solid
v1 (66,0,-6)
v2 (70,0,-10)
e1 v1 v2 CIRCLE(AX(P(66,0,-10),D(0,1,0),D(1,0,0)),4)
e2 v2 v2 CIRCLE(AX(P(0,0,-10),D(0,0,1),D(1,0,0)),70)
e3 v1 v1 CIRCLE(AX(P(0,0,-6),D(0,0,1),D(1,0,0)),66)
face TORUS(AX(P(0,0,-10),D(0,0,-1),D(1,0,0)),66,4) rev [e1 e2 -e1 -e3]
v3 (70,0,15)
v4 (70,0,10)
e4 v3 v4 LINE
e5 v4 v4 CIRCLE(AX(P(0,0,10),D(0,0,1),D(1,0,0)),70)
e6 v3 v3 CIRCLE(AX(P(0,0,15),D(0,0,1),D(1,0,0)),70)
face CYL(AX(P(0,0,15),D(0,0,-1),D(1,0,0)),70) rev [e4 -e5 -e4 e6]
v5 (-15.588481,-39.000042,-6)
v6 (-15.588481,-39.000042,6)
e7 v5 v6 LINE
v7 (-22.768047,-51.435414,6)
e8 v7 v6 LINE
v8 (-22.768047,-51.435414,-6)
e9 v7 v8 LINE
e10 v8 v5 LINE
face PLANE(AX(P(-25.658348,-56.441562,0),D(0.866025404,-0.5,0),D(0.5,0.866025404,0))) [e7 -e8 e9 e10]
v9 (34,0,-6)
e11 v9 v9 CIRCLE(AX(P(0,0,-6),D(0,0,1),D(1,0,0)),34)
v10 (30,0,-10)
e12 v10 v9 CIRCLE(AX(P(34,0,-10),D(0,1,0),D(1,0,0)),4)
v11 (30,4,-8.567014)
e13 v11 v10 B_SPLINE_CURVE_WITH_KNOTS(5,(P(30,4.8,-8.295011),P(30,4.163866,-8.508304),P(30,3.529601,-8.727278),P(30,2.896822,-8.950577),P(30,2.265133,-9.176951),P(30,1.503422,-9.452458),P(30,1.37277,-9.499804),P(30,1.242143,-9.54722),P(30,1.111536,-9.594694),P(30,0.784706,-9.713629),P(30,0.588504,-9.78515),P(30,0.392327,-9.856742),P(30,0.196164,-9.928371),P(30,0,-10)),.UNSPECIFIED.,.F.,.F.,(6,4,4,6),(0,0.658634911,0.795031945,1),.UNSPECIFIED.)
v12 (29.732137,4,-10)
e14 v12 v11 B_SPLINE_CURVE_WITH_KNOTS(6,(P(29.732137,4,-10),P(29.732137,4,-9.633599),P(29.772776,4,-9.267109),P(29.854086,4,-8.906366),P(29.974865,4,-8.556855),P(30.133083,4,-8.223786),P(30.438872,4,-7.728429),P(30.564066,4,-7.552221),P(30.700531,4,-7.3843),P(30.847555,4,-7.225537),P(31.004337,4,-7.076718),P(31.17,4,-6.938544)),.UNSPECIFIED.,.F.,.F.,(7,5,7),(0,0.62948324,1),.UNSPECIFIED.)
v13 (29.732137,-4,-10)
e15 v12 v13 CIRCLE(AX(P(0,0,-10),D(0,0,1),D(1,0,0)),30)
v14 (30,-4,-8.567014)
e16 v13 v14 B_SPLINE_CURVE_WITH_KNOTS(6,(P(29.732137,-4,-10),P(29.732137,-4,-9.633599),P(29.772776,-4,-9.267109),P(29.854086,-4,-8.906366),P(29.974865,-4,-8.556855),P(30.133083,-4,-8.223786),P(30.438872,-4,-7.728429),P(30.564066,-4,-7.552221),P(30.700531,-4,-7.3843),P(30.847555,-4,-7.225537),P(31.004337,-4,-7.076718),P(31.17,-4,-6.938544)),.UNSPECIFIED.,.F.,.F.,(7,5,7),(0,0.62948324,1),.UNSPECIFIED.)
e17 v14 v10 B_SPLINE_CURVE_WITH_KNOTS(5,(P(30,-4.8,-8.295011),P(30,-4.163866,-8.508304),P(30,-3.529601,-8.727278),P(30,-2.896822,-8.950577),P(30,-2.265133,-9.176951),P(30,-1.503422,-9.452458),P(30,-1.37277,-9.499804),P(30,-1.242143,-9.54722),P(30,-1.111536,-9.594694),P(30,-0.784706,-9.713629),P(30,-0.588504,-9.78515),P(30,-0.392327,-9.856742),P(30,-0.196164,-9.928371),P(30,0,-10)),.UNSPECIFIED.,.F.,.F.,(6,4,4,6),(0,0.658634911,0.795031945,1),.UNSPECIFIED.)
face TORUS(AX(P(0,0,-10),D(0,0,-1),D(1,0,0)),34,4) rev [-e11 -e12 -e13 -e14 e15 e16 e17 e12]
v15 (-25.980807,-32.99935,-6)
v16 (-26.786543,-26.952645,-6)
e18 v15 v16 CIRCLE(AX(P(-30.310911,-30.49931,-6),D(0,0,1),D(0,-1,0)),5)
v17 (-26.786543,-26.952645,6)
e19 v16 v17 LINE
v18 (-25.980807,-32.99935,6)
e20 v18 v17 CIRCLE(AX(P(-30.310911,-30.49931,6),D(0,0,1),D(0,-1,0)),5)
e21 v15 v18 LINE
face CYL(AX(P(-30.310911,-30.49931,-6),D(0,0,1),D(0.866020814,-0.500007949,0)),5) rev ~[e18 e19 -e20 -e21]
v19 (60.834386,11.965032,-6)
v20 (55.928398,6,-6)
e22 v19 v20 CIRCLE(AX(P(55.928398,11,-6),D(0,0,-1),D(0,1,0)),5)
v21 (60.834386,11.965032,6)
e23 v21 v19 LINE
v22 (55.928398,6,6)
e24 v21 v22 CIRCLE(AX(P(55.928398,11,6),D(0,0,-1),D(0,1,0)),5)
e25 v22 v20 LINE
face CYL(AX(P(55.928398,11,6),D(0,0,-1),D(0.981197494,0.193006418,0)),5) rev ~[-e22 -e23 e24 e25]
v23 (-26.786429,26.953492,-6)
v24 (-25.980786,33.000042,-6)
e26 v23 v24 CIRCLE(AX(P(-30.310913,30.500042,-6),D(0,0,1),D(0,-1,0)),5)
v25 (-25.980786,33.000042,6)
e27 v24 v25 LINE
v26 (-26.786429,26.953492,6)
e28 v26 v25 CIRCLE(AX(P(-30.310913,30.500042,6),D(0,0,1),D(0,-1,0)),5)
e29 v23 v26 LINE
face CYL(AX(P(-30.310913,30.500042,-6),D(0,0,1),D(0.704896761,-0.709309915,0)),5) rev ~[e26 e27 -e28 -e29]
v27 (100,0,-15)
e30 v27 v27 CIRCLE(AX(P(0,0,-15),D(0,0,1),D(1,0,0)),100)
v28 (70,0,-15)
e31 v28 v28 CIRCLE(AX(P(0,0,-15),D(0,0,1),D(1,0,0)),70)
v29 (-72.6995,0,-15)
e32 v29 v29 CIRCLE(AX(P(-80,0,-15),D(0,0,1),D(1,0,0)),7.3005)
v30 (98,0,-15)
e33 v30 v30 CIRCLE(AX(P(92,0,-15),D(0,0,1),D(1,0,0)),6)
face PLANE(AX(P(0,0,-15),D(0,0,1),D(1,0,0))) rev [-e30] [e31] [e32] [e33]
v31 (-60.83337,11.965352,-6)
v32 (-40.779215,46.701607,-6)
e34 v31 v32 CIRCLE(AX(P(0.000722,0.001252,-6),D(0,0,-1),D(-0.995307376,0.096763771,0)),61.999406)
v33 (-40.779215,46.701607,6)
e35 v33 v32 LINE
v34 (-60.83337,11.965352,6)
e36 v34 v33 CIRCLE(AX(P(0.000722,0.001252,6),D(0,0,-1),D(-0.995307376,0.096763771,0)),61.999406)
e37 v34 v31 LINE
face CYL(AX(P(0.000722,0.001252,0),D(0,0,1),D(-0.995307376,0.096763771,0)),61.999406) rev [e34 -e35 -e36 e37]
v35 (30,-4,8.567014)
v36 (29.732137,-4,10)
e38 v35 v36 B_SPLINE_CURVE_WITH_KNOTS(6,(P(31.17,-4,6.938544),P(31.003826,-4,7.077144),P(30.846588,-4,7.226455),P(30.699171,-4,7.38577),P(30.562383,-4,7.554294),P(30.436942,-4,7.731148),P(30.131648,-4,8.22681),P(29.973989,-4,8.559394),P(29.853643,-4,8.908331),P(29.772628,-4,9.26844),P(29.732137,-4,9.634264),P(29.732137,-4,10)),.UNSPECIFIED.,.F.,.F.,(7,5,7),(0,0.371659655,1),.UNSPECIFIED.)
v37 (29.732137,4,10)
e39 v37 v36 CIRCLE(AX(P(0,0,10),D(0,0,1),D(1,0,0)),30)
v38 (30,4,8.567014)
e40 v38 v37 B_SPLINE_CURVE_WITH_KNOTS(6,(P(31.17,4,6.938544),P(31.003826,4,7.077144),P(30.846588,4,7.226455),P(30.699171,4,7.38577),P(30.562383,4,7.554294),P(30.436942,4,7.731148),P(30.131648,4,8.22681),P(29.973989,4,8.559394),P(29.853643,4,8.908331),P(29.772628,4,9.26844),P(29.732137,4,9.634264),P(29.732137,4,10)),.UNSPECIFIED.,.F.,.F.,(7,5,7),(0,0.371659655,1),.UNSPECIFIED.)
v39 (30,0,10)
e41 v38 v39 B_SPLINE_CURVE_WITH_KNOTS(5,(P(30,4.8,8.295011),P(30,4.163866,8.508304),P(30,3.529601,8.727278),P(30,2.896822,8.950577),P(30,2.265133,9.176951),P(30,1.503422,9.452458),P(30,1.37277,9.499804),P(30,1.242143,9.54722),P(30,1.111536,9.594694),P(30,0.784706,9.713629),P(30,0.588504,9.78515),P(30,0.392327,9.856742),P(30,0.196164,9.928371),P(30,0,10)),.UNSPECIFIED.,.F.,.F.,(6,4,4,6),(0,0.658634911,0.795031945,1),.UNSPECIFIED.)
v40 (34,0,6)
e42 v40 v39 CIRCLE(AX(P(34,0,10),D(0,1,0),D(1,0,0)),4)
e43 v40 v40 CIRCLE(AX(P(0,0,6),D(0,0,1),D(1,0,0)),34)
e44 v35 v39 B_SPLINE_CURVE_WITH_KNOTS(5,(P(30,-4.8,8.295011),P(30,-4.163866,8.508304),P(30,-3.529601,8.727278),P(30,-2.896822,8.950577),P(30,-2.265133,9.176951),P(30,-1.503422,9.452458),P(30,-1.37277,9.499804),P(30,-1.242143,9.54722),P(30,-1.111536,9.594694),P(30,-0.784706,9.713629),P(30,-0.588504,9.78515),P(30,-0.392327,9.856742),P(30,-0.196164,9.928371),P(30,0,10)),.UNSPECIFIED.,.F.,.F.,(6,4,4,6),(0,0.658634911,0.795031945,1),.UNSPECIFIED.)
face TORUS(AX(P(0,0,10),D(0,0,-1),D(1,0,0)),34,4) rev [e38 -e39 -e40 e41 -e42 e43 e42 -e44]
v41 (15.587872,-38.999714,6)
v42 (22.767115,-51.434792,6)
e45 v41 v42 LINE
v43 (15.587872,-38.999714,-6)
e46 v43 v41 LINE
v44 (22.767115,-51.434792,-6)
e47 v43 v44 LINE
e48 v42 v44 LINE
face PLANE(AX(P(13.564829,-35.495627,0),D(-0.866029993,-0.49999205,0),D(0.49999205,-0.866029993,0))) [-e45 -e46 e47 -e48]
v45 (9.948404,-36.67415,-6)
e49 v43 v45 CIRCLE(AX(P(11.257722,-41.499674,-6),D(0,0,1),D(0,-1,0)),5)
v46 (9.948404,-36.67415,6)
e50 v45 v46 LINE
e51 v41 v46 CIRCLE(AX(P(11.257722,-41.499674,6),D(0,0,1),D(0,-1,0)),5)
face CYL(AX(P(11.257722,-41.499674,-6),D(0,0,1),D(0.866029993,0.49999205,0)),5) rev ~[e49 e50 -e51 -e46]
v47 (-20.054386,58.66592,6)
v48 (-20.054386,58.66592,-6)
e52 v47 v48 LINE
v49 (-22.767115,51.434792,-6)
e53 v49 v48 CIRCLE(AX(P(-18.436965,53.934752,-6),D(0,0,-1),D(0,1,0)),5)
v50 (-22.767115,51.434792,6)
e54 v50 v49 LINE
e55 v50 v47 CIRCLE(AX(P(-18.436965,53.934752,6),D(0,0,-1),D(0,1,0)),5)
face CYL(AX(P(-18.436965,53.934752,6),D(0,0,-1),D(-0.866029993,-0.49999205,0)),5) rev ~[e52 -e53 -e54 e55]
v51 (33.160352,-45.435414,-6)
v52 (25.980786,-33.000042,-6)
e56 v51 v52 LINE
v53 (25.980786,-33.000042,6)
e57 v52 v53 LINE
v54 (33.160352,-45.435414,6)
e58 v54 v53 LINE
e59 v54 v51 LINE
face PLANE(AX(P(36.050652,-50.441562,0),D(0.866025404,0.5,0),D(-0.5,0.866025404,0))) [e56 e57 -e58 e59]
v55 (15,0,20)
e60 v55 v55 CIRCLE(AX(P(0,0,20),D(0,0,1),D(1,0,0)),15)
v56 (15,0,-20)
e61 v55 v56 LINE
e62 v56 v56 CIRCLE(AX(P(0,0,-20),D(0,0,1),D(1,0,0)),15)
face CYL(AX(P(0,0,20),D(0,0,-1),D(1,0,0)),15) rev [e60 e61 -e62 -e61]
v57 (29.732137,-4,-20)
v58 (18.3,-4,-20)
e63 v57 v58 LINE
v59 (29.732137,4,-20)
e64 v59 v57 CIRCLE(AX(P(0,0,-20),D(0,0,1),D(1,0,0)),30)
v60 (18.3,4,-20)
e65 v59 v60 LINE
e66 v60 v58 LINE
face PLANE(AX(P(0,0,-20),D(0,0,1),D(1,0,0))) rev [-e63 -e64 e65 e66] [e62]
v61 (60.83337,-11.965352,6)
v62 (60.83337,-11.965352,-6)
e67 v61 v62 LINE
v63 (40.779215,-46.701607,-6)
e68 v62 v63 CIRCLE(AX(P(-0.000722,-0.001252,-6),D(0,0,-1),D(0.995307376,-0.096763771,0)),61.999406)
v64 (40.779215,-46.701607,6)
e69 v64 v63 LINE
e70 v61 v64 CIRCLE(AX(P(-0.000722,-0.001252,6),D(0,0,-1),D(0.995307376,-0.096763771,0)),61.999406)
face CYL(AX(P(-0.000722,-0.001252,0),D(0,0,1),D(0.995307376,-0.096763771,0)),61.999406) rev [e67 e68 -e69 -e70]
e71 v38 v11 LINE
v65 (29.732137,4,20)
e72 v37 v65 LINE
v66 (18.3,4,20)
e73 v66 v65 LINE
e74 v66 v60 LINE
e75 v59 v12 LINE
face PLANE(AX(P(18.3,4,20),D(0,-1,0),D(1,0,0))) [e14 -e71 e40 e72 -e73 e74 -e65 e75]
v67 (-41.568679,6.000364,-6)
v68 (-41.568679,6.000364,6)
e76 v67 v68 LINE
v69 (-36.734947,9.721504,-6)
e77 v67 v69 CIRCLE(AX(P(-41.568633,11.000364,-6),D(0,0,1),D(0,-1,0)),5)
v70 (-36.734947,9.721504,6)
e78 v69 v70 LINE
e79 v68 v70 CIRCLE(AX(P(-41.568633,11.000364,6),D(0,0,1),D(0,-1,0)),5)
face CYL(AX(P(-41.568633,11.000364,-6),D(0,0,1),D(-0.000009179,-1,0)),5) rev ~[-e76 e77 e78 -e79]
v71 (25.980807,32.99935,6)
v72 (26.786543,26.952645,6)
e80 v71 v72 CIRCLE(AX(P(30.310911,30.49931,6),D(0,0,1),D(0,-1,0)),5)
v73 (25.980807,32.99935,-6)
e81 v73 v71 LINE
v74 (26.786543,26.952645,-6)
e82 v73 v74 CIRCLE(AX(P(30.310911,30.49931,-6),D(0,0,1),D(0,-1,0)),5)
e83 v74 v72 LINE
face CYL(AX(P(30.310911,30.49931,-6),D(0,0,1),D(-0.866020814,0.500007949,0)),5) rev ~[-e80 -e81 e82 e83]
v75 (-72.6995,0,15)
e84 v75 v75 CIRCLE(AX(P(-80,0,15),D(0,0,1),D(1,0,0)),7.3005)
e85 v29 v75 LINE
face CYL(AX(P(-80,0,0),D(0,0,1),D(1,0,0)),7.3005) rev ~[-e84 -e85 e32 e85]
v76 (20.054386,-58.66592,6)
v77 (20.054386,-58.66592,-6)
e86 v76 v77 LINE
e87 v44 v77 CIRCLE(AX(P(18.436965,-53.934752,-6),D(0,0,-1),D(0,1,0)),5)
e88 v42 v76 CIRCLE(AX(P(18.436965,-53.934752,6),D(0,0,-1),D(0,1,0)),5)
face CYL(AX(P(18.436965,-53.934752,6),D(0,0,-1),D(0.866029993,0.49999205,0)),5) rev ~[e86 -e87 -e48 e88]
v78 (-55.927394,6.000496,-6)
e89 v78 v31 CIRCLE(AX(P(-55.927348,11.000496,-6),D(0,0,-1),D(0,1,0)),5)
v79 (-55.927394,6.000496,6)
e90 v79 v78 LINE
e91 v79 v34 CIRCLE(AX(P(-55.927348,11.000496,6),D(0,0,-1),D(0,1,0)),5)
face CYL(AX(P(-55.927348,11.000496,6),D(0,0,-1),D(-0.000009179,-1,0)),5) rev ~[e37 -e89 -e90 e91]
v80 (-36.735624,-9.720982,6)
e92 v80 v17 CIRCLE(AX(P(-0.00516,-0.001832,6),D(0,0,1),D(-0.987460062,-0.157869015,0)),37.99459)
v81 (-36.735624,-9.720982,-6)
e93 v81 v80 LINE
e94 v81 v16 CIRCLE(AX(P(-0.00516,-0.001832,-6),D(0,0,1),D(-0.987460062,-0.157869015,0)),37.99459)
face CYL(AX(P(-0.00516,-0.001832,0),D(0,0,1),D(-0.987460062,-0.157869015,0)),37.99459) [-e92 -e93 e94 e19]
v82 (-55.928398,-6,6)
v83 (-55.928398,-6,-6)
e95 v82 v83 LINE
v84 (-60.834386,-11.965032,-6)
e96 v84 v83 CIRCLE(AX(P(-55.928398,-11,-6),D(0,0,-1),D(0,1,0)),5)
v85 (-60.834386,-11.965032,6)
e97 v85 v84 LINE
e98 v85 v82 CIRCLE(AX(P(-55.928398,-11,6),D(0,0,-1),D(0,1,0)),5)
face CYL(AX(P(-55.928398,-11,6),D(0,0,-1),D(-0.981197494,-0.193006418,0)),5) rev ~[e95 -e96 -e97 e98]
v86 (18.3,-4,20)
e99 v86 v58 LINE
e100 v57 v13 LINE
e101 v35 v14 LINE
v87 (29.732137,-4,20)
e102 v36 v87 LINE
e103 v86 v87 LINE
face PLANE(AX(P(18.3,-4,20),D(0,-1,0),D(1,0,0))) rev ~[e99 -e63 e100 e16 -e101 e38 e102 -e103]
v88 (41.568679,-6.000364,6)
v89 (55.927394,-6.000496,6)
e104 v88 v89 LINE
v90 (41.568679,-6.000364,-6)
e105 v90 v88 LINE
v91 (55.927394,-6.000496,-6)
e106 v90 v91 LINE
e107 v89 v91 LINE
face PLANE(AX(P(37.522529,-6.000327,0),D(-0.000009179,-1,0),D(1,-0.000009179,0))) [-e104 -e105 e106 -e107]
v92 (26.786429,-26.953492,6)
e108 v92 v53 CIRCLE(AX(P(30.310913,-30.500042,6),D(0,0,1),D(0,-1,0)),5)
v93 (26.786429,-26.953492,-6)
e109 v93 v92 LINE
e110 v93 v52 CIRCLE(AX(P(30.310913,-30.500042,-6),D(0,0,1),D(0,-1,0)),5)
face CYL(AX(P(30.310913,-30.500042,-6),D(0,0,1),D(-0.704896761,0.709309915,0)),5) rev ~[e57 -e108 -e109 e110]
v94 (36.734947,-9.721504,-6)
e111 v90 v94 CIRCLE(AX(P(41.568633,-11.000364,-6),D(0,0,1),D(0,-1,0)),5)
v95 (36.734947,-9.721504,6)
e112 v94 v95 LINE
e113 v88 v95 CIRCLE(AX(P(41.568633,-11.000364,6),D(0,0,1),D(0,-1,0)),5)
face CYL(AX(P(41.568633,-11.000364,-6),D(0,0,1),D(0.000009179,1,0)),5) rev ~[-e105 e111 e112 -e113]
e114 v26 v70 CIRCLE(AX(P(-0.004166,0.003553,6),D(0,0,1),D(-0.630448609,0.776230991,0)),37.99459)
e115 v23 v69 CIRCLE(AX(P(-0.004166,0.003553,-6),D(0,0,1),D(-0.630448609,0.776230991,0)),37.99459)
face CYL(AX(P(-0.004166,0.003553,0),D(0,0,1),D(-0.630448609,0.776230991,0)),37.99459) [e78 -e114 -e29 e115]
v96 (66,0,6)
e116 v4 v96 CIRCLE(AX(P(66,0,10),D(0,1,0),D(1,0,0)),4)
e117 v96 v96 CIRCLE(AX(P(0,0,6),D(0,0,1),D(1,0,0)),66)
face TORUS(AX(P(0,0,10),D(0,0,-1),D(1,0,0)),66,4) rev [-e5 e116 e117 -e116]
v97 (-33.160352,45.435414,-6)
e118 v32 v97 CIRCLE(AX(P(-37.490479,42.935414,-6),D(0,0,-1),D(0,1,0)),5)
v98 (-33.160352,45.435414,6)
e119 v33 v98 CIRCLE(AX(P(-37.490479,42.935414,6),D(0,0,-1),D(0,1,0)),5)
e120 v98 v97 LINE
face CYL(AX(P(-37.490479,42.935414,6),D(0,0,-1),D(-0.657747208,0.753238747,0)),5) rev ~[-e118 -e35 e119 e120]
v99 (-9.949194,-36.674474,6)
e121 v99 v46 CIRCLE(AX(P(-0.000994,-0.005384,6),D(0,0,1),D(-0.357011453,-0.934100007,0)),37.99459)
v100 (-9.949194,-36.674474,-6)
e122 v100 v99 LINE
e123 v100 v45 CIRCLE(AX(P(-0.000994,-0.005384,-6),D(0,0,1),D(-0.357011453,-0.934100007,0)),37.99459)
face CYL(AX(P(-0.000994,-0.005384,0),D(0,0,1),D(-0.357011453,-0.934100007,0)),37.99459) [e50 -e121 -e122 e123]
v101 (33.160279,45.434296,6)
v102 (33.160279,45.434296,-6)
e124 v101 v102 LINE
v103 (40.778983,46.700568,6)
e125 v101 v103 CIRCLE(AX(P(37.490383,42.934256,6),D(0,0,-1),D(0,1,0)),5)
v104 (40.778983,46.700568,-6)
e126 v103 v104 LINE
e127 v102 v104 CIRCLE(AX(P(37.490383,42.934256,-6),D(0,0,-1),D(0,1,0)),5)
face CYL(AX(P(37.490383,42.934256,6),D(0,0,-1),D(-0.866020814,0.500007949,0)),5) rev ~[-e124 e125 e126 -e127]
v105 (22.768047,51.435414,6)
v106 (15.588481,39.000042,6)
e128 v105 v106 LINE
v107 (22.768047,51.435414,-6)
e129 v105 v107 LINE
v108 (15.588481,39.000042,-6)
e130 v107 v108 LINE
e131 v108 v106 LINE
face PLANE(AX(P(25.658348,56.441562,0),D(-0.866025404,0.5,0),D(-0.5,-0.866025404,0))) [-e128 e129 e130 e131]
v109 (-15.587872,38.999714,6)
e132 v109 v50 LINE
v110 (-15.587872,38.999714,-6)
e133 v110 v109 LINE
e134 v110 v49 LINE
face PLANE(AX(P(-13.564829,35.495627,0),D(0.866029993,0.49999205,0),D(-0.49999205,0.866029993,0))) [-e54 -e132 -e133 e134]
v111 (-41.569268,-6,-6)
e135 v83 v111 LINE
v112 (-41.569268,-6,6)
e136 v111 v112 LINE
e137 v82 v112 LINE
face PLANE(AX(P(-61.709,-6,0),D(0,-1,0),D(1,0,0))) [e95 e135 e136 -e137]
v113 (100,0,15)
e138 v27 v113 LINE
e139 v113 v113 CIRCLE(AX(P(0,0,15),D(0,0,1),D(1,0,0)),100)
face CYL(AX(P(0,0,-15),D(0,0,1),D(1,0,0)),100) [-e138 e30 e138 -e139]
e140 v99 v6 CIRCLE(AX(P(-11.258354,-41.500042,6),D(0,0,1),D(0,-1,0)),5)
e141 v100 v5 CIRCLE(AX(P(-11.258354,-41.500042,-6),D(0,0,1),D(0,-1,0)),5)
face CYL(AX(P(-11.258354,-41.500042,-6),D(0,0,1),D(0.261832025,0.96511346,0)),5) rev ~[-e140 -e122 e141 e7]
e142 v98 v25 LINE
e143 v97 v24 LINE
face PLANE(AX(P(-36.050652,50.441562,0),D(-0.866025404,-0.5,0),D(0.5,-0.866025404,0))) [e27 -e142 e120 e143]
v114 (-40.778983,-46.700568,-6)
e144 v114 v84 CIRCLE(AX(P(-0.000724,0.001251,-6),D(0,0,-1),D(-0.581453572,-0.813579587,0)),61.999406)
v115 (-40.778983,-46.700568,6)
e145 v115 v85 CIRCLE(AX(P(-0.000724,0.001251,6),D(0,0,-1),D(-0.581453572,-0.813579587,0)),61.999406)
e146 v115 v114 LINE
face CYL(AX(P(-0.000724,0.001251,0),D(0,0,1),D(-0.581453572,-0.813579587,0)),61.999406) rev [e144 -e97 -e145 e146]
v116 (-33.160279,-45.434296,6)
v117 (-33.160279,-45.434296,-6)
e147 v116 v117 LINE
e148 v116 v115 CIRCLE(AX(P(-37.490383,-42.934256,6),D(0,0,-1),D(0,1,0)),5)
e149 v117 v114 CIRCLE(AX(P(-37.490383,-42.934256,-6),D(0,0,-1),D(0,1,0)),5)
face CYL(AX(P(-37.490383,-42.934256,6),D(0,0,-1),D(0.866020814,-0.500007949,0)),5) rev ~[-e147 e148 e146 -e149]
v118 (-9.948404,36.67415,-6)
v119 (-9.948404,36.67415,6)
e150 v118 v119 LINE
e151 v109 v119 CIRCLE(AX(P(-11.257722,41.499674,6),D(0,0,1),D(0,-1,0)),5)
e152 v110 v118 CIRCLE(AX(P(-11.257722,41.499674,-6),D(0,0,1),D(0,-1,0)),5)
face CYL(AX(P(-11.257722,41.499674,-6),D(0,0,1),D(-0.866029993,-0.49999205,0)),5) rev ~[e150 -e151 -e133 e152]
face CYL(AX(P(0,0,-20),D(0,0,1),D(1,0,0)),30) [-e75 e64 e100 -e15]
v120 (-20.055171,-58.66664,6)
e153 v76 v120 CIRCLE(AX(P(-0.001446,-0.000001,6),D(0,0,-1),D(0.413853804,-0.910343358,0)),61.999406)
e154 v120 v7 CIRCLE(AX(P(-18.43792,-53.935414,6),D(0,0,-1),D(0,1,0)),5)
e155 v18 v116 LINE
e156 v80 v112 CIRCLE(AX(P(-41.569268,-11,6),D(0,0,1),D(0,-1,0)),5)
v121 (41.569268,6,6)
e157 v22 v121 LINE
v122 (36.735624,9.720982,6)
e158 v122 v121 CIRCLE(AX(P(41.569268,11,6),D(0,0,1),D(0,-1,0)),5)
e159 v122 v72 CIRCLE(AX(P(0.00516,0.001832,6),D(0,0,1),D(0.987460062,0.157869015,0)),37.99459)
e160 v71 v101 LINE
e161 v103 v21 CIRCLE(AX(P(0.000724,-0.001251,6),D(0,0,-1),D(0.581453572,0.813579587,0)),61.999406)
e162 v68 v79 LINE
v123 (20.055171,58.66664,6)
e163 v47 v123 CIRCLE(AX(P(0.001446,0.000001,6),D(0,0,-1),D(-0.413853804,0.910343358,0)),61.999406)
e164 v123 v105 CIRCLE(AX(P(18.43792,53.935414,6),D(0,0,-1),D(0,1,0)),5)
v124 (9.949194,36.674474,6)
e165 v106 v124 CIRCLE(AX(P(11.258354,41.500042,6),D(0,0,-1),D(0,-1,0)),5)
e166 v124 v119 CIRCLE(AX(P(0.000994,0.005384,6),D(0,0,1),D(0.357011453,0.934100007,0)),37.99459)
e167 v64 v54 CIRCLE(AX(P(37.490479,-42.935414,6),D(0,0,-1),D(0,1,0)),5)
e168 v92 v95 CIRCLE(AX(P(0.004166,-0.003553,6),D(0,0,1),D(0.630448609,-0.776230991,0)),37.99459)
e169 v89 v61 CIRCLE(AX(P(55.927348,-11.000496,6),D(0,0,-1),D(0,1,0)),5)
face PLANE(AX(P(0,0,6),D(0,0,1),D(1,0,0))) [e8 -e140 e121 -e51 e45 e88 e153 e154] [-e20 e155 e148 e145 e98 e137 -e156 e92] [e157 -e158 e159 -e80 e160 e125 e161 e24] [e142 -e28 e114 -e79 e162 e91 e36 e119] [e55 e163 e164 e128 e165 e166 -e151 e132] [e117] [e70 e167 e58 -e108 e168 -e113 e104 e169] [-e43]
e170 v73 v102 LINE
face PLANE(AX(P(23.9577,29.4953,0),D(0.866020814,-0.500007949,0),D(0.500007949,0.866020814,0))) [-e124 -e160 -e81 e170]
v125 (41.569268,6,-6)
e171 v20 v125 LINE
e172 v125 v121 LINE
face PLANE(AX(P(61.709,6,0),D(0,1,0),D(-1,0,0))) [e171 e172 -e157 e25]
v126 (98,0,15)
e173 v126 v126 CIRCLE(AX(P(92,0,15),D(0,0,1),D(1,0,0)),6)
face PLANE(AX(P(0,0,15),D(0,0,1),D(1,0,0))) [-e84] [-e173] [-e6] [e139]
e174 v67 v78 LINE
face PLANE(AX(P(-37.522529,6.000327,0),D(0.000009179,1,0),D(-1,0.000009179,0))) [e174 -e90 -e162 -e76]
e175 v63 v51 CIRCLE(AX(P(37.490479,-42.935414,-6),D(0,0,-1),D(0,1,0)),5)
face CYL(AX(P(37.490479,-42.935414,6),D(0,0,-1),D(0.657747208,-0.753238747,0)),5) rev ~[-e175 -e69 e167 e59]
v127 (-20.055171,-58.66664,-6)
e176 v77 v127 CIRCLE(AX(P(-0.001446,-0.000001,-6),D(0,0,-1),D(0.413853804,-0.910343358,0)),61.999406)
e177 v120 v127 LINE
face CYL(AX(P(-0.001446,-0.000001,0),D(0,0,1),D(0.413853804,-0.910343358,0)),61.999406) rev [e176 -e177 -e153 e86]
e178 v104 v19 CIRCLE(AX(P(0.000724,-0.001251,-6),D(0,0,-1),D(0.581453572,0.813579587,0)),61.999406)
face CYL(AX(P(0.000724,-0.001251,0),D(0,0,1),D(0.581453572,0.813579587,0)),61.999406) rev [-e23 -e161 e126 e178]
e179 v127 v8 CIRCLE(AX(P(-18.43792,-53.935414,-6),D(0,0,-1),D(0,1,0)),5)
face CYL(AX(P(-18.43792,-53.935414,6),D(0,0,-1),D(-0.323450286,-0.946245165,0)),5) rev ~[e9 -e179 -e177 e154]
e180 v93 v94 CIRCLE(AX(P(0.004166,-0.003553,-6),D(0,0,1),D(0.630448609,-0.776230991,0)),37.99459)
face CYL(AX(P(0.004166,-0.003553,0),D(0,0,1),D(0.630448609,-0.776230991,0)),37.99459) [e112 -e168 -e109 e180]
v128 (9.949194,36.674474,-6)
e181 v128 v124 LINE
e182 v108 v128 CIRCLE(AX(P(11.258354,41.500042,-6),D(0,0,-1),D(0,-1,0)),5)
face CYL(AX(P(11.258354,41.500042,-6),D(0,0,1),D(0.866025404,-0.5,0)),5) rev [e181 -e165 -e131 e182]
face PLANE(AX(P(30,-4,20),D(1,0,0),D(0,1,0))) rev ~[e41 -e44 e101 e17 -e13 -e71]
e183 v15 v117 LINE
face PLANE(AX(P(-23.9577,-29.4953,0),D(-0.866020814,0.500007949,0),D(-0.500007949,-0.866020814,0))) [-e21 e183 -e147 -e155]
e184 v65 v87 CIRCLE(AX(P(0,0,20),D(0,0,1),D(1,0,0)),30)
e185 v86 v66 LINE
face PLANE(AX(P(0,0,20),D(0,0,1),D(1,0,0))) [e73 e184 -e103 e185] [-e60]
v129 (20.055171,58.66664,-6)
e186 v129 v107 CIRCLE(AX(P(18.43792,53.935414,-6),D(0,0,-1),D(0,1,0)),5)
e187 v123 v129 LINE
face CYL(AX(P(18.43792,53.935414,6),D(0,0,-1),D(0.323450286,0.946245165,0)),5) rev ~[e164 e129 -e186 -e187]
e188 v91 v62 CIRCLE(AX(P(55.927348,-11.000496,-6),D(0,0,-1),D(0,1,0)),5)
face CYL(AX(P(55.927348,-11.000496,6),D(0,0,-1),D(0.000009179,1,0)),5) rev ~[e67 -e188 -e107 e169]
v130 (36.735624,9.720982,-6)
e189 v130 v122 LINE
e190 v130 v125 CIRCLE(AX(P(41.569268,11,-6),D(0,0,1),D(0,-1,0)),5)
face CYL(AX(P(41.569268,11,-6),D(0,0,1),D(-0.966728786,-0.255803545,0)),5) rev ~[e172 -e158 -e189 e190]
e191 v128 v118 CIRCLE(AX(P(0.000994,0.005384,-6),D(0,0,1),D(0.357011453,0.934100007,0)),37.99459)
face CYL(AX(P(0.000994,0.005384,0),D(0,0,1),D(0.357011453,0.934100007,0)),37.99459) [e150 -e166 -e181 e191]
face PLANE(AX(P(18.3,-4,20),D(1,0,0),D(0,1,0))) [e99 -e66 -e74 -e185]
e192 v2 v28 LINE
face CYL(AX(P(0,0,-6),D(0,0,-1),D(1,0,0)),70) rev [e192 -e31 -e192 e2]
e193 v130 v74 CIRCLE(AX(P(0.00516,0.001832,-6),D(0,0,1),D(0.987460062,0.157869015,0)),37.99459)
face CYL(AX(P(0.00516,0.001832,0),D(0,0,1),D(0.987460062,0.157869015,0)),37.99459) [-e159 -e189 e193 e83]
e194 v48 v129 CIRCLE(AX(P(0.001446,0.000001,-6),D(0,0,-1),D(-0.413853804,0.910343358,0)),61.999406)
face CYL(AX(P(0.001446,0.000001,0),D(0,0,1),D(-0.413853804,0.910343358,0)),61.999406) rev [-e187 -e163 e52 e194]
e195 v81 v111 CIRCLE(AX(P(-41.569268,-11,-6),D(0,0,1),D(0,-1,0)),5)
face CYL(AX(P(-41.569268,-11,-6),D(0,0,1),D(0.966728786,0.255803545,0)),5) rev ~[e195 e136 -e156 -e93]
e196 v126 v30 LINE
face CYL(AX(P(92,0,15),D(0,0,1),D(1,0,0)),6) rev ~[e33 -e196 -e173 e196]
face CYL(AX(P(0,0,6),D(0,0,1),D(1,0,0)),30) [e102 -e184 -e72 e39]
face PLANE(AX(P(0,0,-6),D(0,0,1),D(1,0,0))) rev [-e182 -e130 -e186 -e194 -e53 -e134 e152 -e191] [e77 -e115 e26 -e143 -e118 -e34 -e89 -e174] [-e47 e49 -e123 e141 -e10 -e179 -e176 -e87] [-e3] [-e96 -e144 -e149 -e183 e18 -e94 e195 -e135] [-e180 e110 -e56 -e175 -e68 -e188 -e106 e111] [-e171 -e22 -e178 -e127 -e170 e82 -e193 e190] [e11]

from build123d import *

# Parameters (mm, degrees)
FILLET_1_R               = 4
CUT_EXTRUDE_3_DEPTH      = 6
PATTERN_CIRCULAR_1_COUNT = 6
FILLET_2_R               = 5
SKETCH_6_W               = 11.7
SKETCH_6_H               = 8
CUT_EXTRUDE_6_DEPTH      = 147.969384567
SKETCH_7_R               = 6
CUT_EXTRUDE_7_DEPTH      = 146.688022867
SKETCH_8_R               = 7.3005
CUT_EXTRUDE_8_DEPTH      = 201
FILLET_3_R               = 5


with BuildPart() as part:
    # 草图1 → 旋转1 (revolve)
    with BuildSketch(Plane(origin=(0, 0, 0), x_dir=(1, 0, 0), z_dir=(0, 1, 0))):
        Polygon((15, 20), (30, 20), (30, 6), (70, 6), (70, 15), (100, 15), (100, -15), (70, -15), (70, -6), (30, -6), (30, -20), (15, -20), align=None)
    revolve(axis=Axis((0, 0, -20), (0, 0, 1)))

    # 圆角1
    fillet_1_edges = [part.edges().sort_by_distance(p)[0] for p in [
        (-70, 0, -6),
        (-30, 0, -6),
        (-70, 0, 6),
        (-30, 0, 6),
    ]]
    fillet(fillet_1_edges, radius=FILLET_1_R)

    # 草图4 → 切除-拉伸3 (cut, symmetric)
    with BuildSketch(Plane.XY):
        with BuildLine():
            Line((23.9577, 29.4953), (36.0505, 50.4402))
            ThreePointArc((36.0505, 50.4402), (53.693293556, 30.999302329), (61.709, 6))
            Line((61.709, 6), (37.5233, 6))
            ThreePointArc((37.5233, 6), (32.909086895, 18.999737966), (23.9577, 29.4953))
        make_face()
    cut_extrude_3 = extrude(amount=CUT_EXTRUDE_3_DEPTH, both=True, mode=Mode.SUBTRACT)

    # 阵列(圆周)1: 切除-拉伸3 ×6 about axis
    pattern_circular_1_axis = Axis((0, 0, 22), (0, 0, -1))
    for i in range(1, PATTERN_CIRCULAR_1_COUNT):
        add(cut_extrude_3.rotate(pattern_circular_1_axis, i * 360 / PATTERN_CIRCULAR_1_COUNT), mode=Mode.SUBTRACT)

    # 圆角2
    fillet_2_edges = [part.edges().sort_by_distance(p)[0] for p in [
        (36.050652423, -50.441561642, 0),
        (61.707744572, -6.000548819, 0),
        (-25.658347577, -56.441561642, 0),
        (25.657244572, -56.440748819, 0),
        (23.957802423, -29.496131034, 0),
        (-61.709, -6, 0),
        (-36.0505, -50.4402, 0),
        (-13.565497577, -35.496131034, 0),
        (-36.050652423, 50.441561642, 0),
        (-61.707744572, 6.000548819, 0),
        (-37.5233, -6, 0),
        (25.658347577, 56.441561642, 0),
        (-25.657244572, 56.440748819, 0),
        (-23.957802423, 29.496131034, 0),
        (61.709, 6, 0),
        (36.0505, 50.4402, 0),
        (13.565497577, 35.496131034, 0),
        (37.5233, 6, 0),
    ]]
    fillet(fillet_2_edges, radius=FILLET_2_R)

    # 草图6 → 切除-拉伸6 (cut, through all)
    with BuildSketch(Plane.XY.offset(20)):
        with Locations((24.15, 0)):
            Rectangle(SKETCH_6_W, SKETCH_6_H)
    extrude(amount=-CUT_EXTRUDE_6_DEPTH, mode=Mode.SUBTRACT)

    # 草图7 → 切除-拉伸7 (cut, through all)
    with BuildSketch(Plane.XY.offset(15)):
        with Locations((92, 0)):
            Circle(SKETCH_7_R)
    extrude(amount=-CUT_EXTRUDE_7_DEPTH, mode=Mode.SUBTRACT)

    # 草图8 → 切除-拉伸8 (cut, symmetric)
    with BuildSketch(Plane.XY):
        with Locations((-80, 0)):
            Circle(SKETCH_8_R)
    extrude(amount=CUT_EXTRUDE_8_DEPTH, both=True, mode=Mode.SUBTRACT)

    # 圆角3
    fillet_3_edges = [part.edges().sort_by_distance(p)[0] for p in [
        (37.522529092, -6.000326816, 0),
        (13.564829092, -35.495626816, 0),
        (-23.9577, -29.4953, 0),
        (-37.522529092, 6.000326816, 0),
        (-13.564829092, 35.495626816, 0),
        (23.9577, 29.4953, 0),
    ]]
    fillet(fillet_3_edges, radius=FILLET_3_R)


solid = part.part
